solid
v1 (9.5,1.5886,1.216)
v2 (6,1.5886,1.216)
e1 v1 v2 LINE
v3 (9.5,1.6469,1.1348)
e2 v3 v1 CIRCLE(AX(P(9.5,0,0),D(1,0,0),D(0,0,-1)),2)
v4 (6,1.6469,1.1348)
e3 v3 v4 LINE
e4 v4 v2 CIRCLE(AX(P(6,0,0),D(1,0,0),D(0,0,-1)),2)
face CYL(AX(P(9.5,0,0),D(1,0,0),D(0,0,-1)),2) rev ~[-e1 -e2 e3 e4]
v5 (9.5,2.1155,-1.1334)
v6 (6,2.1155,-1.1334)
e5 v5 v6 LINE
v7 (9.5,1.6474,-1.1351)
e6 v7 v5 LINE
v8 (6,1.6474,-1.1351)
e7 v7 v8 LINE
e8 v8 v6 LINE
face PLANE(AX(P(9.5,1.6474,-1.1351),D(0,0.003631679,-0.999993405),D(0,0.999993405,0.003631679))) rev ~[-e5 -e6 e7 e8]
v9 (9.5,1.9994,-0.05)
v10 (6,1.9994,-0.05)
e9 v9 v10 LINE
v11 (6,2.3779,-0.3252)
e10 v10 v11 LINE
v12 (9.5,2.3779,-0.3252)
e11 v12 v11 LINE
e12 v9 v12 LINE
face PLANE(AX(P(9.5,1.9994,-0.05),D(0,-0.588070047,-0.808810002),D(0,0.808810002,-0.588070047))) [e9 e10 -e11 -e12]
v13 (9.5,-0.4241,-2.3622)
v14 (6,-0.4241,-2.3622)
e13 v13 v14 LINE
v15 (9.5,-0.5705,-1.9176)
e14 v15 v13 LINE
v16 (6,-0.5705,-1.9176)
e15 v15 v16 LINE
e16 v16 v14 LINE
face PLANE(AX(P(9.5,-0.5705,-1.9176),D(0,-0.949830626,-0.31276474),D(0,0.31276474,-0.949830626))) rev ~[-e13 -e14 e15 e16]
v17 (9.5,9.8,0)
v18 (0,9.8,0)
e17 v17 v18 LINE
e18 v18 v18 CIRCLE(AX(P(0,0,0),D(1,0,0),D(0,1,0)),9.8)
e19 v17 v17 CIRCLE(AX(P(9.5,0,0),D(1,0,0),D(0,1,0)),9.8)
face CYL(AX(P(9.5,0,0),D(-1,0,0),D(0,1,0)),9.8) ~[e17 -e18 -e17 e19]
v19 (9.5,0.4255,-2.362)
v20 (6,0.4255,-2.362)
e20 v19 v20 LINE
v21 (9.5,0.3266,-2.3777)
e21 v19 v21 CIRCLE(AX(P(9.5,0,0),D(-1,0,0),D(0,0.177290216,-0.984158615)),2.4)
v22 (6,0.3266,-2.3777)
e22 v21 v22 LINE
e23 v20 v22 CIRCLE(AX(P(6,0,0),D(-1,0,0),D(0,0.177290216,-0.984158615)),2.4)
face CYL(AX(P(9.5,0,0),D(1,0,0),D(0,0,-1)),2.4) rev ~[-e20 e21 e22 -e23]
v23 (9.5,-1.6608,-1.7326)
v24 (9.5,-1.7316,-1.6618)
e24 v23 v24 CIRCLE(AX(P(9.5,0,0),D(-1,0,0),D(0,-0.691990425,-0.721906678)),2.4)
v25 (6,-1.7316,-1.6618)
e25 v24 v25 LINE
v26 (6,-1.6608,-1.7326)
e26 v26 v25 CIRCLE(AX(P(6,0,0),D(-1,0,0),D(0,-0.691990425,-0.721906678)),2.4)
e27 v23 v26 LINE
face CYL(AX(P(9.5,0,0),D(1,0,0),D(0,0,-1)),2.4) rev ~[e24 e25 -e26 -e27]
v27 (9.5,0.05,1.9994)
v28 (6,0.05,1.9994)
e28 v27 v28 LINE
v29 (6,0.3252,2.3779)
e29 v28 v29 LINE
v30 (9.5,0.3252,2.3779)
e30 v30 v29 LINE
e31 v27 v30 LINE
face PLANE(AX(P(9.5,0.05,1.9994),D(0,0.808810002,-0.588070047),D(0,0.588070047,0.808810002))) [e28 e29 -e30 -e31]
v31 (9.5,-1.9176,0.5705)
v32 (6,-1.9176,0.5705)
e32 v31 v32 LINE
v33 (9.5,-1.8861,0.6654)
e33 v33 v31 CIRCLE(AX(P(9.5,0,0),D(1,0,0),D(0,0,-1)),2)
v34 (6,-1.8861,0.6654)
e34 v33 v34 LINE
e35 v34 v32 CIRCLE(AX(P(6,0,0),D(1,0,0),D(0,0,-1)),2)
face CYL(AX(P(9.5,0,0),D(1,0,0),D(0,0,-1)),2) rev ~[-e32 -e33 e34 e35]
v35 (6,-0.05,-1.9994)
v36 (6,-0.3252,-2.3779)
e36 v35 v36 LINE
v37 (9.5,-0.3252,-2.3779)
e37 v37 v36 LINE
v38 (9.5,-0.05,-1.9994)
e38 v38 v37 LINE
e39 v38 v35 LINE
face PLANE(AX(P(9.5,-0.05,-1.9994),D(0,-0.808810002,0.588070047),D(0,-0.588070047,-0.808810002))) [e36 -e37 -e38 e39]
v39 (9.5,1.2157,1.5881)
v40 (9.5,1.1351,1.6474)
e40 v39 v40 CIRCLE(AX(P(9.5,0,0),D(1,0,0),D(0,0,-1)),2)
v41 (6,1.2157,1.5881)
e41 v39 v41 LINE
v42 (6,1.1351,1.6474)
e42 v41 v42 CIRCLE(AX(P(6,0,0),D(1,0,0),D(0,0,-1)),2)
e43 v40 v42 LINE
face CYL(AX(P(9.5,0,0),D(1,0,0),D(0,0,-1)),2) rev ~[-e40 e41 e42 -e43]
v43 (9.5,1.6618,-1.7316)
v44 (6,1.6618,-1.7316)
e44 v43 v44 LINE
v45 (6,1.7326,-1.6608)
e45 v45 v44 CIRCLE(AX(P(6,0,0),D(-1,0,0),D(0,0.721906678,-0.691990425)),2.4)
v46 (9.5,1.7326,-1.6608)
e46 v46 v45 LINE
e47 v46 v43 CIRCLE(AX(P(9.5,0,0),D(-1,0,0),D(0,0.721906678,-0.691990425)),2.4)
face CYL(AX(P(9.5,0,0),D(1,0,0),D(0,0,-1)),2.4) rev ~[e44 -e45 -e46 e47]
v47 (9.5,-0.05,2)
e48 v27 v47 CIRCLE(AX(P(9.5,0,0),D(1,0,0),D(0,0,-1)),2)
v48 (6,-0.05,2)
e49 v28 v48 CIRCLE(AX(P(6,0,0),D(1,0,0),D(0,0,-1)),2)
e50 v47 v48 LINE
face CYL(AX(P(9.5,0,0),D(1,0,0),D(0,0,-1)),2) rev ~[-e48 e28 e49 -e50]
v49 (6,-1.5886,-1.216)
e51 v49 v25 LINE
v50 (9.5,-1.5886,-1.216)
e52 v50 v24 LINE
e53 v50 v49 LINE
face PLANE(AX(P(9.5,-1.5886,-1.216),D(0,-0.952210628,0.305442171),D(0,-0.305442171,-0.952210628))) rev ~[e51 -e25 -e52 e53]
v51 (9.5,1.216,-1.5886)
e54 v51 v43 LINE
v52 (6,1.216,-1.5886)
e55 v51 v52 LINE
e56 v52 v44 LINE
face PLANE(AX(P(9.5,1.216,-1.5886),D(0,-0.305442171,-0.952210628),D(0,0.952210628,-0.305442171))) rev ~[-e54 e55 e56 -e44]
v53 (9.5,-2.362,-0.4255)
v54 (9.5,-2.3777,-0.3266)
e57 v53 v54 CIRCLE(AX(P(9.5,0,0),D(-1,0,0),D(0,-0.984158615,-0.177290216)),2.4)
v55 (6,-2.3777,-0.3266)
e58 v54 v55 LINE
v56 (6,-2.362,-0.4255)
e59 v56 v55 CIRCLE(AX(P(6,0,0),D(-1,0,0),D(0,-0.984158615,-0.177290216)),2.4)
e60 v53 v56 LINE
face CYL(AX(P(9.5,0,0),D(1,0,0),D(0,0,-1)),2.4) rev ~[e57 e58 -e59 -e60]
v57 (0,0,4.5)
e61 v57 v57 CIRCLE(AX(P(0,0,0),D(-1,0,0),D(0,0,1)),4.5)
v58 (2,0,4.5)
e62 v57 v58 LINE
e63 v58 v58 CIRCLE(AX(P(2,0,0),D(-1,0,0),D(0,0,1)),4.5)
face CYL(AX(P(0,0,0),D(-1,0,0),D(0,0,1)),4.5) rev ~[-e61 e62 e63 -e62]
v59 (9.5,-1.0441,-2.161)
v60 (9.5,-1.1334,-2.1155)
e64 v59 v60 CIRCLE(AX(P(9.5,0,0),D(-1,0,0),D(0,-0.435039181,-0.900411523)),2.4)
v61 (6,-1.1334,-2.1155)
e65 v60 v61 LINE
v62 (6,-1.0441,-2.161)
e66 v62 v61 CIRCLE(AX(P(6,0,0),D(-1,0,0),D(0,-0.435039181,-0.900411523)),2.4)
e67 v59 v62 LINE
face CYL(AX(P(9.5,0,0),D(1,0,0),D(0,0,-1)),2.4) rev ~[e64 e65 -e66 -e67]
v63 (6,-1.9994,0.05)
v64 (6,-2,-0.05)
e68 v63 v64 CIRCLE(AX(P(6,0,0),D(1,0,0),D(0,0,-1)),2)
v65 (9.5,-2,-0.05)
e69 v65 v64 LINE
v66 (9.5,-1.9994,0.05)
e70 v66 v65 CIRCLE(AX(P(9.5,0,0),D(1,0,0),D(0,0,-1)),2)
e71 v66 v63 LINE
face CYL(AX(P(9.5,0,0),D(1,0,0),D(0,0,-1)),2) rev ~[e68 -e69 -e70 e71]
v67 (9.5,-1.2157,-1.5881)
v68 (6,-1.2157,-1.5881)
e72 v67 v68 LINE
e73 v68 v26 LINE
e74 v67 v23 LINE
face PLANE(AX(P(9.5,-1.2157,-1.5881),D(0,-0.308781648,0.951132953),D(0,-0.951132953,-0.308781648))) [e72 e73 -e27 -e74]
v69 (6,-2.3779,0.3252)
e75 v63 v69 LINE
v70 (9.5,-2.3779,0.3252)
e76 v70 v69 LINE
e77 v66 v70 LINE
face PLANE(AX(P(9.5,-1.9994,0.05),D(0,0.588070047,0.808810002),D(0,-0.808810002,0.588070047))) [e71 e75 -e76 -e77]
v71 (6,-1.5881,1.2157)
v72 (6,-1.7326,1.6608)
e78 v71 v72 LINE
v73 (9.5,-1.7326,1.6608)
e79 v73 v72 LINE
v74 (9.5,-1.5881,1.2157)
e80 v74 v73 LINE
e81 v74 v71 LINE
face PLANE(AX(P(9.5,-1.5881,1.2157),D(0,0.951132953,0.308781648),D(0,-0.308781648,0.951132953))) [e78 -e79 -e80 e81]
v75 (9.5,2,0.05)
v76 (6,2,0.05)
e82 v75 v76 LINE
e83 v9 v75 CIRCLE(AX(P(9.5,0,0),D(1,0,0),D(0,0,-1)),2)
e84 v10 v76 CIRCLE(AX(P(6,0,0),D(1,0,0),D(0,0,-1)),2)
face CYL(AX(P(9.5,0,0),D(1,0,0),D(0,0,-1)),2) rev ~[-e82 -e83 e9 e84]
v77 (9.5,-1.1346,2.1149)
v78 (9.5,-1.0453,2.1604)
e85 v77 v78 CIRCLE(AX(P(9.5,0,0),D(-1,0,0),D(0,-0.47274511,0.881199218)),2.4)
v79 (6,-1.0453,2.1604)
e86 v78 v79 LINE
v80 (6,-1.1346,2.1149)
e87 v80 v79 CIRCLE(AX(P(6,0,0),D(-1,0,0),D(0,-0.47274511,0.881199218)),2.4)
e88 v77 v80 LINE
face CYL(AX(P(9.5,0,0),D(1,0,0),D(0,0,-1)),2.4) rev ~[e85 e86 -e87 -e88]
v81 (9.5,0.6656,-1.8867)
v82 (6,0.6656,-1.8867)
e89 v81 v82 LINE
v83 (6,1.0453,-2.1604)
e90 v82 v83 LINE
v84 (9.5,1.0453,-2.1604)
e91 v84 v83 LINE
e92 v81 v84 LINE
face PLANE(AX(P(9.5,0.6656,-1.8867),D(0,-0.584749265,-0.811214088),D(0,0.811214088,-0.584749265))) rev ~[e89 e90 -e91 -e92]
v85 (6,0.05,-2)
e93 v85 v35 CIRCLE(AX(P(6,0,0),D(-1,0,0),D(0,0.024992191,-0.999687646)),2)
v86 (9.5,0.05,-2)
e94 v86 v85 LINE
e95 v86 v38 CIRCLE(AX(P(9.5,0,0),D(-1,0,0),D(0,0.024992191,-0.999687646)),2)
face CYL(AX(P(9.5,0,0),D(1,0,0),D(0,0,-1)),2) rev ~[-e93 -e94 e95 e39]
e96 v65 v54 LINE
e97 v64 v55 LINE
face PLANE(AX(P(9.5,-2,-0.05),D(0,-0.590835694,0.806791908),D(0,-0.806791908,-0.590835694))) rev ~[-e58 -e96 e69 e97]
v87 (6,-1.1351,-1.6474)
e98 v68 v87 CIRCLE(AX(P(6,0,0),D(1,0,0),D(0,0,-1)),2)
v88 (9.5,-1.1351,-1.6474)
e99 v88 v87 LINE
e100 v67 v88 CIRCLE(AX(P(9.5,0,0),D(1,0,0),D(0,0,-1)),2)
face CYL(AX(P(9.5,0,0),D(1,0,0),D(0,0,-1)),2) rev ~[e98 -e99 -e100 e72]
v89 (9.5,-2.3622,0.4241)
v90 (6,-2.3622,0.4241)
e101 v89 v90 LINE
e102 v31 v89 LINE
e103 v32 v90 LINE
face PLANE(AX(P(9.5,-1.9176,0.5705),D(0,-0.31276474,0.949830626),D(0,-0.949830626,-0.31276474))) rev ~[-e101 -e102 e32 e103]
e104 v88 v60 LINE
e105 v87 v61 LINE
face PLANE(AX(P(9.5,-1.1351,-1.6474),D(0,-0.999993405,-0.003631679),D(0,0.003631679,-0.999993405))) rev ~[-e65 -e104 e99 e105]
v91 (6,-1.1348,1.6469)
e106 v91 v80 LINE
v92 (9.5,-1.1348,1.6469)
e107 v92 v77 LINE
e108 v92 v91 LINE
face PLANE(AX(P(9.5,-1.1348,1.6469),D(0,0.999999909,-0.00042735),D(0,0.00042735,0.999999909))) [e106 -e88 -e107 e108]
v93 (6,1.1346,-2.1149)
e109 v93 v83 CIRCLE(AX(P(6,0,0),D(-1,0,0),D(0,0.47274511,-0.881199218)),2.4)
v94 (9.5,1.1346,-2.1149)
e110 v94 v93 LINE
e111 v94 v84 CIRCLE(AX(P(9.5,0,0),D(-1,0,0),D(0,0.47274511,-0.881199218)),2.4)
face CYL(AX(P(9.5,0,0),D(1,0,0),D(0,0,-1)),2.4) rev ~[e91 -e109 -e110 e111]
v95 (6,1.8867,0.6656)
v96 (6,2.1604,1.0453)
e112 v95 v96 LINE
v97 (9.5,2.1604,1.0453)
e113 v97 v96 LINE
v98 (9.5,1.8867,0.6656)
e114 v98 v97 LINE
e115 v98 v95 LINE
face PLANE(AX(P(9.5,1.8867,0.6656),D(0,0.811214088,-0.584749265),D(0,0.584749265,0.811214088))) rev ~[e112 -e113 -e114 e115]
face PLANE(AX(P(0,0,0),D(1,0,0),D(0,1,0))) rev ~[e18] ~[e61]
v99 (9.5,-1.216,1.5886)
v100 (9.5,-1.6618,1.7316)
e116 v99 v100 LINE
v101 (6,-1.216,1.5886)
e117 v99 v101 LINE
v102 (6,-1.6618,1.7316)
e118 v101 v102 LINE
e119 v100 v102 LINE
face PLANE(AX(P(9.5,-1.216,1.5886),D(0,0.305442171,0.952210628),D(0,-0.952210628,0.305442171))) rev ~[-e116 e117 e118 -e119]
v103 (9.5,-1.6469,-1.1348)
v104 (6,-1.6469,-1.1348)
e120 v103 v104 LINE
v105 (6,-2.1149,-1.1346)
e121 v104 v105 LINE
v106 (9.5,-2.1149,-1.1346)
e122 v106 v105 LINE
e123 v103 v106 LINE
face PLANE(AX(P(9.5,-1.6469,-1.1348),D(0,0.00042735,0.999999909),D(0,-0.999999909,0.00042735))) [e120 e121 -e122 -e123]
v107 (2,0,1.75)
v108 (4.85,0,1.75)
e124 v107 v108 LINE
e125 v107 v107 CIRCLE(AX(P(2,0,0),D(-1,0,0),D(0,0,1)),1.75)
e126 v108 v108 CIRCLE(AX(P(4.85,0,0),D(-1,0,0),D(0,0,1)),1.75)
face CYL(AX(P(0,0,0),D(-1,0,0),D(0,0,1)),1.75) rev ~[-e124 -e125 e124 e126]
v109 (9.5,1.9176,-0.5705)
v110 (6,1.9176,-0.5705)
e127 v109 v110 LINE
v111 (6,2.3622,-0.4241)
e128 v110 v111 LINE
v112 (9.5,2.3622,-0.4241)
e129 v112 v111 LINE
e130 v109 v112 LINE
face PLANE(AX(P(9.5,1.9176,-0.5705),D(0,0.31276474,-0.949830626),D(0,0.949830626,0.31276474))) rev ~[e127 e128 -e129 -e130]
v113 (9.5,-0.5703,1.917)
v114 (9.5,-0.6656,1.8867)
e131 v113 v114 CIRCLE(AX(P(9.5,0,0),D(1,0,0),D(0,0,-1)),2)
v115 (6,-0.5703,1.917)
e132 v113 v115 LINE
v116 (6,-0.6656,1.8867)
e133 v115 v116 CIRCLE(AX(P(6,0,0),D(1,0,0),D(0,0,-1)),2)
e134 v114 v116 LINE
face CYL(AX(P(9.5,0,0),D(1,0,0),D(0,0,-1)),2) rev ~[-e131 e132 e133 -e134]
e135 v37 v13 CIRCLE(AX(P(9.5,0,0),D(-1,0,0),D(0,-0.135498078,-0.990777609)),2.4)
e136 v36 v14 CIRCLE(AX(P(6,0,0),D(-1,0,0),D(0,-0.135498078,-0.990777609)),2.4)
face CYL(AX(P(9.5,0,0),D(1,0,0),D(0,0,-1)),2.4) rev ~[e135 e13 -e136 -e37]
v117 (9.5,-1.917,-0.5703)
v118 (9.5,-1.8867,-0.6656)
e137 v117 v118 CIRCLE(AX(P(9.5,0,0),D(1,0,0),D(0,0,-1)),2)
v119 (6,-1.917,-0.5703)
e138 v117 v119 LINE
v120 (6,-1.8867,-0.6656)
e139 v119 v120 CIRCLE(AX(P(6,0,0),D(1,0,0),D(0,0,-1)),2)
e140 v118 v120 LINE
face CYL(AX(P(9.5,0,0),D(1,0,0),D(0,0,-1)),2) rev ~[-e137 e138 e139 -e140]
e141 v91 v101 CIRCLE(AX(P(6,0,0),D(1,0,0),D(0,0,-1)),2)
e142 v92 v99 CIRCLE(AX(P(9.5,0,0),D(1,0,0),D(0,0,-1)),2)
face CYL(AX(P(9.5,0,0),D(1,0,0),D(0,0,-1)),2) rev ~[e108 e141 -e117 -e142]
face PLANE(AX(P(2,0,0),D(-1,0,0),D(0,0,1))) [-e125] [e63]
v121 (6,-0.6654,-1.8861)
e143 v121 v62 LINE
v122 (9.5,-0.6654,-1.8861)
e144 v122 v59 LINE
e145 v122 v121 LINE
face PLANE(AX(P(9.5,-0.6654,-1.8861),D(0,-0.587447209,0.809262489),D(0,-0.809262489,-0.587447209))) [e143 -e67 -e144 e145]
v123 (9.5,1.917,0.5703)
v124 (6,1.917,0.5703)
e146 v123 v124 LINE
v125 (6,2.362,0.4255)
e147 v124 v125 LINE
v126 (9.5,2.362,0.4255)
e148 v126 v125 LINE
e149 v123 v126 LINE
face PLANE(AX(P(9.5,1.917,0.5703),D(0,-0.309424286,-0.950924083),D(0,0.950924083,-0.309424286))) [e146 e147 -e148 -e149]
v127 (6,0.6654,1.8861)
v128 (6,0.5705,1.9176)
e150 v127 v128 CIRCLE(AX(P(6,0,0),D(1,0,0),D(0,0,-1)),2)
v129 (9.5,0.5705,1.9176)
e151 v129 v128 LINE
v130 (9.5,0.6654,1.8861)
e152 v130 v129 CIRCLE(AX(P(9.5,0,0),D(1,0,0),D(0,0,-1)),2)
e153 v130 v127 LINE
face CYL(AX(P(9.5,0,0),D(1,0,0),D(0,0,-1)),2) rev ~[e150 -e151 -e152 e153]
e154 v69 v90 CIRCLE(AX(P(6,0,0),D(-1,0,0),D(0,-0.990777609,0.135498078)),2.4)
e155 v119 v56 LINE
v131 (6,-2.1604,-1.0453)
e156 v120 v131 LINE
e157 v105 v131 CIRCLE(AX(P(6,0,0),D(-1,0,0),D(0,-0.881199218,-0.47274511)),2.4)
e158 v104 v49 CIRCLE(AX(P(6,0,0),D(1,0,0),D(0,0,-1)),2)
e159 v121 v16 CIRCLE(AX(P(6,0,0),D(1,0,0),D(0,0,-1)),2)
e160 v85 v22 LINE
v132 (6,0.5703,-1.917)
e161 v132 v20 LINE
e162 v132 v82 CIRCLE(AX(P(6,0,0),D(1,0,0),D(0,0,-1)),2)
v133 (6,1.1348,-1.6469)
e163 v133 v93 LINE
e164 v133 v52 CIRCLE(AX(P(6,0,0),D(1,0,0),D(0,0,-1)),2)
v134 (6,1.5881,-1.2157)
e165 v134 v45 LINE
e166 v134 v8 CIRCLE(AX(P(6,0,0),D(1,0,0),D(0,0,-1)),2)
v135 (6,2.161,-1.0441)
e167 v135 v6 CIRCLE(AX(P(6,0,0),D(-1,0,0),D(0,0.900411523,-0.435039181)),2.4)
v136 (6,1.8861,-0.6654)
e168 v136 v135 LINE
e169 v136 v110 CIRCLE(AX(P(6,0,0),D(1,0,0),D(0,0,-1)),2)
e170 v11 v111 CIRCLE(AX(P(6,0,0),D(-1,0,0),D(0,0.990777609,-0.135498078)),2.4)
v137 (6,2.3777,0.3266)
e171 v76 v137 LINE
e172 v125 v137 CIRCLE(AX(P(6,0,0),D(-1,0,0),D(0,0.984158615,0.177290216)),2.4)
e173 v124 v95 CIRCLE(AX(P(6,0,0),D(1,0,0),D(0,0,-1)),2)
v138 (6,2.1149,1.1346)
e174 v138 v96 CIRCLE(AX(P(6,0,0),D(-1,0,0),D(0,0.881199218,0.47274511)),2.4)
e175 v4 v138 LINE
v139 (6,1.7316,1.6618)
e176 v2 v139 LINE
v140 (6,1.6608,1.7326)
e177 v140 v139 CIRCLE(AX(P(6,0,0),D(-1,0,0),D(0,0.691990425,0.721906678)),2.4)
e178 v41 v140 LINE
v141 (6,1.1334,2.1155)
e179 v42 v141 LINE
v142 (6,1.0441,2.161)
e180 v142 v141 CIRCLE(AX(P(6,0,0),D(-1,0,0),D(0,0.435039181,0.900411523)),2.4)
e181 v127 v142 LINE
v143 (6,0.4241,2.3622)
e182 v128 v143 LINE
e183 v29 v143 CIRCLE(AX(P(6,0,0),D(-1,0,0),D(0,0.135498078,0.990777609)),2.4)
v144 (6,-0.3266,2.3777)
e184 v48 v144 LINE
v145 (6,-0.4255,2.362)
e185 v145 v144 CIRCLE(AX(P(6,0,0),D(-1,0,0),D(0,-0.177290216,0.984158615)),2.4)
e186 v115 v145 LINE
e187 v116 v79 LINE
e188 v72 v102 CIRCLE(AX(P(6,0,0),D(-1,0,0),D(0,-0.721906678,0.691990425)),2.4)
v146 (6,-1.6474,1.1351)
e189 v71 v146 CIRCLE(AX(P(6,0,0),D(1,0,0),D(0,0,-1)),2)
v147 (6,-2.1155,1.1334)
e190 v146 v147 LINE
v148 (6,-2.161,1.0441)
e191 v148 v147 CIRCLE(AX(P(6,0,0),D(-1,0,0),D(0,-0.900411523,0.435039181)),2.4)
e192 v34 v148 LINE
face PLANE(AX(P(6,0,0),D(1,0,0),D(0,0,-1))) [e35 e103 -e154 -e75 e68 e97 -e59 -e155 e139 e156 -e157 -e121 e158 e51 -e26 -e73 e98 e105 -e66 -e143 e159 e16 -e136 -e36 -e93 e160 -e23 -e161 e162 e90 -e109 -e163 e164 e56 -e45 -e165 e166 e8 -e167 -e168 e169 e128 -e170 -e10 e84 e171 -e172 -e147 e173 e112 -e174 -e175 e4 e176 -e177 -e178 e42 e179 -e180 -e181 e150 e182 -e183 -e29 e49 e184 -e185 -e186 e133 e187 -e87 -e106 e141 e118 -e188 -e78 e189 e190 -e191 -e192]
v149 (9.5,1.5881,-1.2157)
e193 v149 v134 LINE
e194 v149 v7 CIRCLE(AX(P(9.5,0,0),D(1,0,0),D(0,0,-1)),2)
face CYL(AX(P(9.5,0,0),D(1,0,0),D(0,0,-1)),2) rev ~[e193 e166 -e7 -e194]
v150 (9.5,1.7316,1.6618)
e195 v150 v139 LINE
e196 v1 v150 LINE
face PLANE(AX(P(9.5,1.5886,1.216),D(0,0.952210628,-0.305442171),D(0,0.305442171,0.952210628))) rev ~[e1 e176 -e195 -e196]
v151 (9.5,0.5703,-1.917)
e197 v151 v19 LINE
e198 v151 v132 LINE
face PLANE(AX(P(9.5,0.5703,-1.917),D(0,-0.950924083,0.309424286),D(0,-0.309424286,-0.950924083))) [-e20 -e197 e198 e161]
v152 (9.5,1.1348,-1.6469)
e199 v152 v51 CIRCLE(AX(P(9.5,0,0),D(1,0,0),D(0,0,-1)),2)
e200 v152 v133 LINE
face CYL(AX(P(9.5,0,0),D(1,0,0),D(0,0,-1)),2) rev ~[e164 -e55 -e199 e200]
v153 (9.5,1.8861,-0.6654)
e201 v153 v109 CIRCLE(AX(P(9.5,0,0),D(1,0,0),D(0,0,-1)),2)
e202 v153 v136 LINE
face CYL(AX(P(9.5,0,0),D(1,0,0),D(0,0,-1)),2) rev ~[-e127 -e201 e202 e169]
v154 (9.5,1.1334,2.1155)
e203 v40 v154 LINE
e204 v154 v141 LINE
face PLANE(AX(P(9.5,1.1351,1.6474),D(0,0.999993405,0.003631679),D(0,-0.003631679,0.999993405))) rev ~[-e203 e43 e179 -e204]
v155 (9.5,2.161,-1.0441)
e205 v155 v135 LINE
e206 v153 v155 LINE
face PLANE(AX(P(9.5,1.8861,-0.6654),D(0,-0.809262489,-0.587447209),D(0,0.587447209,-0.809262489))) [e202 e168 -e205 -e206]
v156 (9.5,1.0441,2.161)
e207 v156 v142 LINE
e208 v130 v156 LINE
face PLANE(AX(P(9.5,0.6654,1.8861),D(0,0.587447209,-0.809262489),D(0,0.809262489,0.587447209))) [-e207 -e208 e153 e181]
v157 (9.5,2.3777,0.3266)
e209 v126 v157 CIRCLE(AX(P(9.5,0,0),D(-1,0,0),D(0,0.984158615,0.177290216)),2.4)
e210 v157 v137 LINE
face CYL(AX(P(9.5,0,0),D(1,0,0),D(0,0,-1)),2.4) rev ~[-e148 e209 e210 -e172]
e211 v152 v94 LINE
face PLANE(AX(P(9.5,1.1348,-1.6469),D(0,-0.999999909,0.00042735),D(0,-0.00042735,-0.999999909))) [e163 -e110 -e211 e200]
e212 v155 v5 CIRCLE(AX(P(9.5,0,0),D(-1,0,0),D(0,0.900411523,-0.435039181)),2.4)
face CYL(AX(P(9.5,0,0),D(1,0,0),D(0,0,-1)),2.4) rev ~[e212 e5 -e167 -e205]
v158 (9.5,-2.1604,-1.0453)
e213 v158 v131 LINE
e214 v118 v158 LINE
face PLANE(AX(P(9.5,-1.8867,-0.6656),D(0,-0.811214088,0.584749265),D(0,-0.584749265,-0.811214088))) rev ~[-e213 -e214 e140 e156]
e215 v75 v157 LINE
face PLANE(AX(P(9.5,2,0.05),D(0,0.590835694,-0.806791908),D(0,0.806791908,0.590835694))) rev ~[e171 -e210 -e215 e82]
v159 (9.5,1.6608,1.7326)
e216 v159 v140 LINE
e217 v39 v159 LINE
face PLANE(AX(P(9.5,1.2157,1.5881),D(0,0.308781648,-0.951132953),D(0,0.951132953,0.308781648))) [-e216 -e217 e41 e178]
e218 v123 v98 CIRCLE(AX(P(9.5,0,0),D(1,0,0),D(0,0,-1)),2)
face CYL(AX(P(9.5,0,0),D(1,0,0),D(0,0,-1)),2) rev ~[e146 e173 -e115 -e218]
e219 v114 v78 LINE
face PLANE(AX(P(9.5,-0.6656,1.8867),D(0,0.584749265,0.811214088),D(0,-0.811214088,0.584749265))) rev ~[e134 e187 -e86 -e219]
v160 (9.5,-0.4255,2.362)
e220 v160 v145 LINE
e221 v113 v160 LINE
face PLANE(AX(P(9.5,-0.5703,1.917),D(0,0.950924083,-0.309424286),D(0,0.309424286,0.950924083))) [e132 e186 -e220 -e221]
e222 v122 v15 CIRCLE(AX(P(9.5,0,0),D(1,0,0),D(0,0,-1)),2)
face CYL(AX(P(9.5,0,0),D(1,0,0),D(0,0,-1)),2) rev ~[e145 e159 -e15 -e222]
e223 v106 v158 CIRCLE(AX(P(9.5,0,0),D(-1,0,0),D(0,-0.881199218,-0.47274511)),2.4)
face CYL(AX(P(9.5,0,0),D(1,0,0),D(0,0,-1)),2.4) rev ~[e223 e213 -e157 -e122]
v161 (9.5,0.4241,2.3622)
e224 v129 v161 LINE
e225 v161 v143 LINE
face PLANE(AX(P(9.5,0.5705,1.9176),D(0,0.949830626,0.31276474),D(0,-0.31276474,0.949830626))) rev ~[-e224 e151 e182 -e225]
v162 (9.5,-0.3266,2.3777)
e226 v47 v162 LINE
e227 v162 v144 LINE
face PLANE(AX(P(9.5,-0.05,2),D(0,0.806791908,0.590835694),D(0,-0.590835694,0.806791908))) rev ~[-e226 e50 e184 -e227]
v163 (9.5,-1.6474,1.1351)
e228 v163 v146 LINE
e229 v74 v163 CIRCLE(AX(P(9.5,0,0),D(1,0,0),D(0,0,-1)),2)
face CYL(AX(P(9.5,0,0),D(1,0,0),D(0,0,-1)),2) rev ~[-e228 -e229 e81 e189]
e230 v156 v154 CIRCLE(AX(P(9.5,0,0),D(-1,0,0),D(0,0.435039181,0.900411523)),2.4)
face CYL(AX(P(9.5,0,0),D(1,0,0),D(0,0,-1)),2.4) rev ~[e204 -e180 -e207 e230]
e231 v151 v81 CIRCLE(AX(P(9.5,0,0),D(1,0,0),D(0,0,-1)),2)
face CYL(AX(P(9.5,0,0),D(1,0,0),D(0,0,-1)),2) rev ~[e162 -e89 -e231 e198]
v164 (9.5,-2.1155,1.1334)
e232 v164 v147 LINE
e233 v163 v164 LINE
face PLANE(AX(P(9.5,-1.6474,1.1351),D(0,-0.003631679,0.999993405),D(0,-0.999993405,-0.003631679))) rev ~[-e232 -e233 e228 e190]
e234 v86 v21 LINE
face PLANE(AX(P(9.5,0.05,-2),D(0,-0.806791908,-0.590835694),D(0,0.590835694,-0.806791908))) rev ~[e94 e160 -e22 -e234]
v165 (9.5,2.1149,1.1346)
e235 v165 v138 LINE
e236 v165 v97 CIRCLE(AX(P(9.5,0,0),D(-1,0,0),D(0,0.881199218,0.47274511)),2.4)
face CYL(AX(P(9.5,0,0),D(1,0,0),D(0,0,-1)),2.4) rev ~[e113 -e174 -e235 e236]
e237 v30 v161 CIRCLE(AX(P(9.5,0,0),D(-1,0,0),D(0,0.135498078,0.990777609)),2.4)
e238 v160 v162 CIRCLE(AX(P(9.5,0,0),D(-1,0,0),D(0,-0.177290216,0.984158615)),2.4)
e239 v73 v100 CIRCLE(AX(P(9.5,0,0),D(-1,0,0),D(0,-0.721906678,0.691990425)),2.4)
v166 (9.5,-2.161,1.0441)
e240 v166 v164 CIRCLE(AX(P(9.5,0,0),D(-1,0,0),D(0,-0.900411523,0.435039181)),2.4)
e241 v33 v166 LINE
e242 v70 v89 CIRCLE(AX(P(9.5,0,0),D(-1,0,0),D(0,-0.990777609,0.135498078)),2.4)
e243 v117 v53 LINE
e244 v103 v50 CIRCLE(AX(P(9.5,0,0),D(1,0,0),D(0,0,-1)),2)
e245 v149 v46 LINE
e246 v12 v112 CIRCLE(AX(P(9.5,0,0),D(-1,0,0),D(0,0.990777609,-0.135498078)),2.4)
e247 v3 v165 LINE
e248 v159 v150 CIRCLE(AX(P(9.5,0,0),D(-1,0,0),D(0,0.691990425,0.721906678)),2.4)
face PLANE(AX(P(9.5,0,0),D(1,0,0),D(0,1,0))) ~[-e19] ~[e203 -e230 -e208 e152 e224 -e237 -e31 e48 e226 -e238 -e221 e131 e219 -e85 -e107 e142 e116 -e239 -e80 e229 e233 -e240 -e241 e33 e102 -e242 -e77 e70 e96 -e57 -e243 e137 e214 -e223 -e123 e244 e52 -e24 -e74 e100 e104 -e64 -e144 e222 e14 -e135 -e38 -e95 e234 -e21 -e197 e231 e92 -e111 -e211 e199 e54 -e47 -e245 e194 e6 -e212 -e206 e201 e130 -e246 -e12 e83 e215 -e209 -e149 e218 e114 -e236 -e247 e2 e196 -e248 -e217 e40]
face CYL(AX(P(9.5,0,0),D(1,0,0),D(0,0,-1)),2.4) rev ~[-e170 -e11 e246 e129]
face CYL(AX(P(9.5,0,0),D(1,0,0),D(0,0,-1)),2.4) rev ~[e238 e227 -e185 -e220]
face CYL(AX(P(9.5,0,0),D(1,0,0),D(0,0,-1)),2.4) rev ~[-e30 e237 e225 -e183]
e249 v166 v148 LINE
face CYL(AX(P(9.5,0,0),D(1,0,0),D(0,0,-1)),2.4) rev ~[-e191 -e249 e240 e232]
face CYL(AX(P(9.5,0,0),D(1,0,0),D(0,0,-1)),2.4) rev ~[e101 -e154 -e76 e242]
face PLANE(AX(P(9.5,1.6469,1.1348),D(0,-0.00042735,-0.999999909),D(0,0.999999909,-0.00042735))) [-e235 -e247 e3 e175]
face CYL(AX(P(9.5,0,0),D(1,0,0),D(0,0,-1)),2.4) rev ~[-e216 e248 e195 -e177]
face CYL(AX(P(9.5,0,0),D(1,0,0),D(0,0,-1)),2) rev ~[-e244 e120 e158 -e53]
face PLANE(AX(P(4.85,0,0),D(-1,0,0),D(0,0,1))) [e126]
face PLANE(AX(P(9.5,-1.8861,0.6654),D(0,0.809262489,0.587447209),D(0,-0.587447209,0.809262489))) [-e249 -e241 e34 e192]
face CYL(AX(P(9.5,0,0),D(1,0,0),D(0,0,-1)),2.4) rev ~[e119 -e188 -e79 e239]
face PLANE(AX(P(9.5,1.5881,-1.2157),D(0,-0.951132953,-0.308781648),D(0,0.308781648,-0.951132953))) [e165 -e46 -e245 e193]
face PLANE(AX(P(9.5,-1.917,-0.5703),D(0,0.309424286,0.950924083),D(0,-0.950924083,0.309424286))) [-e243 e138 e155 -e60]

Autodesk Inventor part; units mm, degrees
ref_plane "YZ Plane" through (0, 0, 0) normal (1, 0, 0) x (0, 1, 0)
ref_plane "XZ Plane" through (0, 0, 0) normal (0, 1, 0) x (-1, 0, 0)
ref_plane "XY Plane" through (0, 0, 0) normal (0, 0, 1) x (1, 0, 0)
sketch "Esboço2" plane through (0, 0, 0) normal (0, 0, 1) x (1, 0, 0)
  line L0 (0, 0) -> (9.5, 0)
  line L1 (9.5, 0) -> (9.5, 9.8)
  line L2 (9.5, 9.8) -> (0, 9.8)
  line L3 (0, 9.8) -> (0, 0)
  dimension "d0" = 9.5
  dimension "d1" = 9.8
revolve "Revolução1" add sketch "Esboço2" angle 360 about axis through (0, 0, 0) along (1, 0, 0)
sketch "Esboço3" plane through (0, 0, 0) normal (-1, 0, 0) x (0, 0, 1)
  circle A0 centre (0, 0) radius 1.75
  dimension "d3" = 3.5
extrude "Extrusão1" cut sketch "Esboço3" against normal blind 4.85
sketch "Esboço4" plane through (0, 0, 0) normal (-1, 0, 0) x (0, 0, 1)
  circle A0 centre (0, 0) radius 4.5
  dimension "d6" = 9
extrude "Extrusão2" cut sketch "Esboço4" against normal blind 2
sketch "Esboço8" plane through (9.5, 0, 0) normal (1, 0, 0) x (0, 0, -1)
  circle A0 centre (0, 0) radius 2
  circle A1 centre (0, 0) radius 2.4
  line L0 (2, 0) -> (2, 0.05)
  line L1 (2, 0) -> (1.9994, -0.05)
  line L2 (1.9994, -0.05) -> (2, 0.05)
  line L3 (2, 0.05) -> (2.3777, 0.3266)
  line L4 (1.9994, -0.05) -> (2.3779, -0.3252)
  arc A2 (2.3779, -0.3252) -> (2.3777, 0.3266) centre (0, 0) ccw
  line L5 (2.3777, 0.3266) -> (2.3777, 0.3266)
  line L6 (2.3777, 0.3266) -> (2.3777, 0.3266)
  line L7 (2.3777, 0.3266) -> (2.3777, 0.3266)
  line L8 (2.3779, -0.3252) -> (2.3706, -0.3747)
  line L9 (2.3706, -0.3747) -> (2.3779, -0.3252)
  line L10 (2.3777, 0.3266) -> (2.3777, 0.3266)
  line L11 (2.3777, 0.3266) -> (2.3777, 0.3266)
  line L12 (1.8867, 0.6656) -> (2.1604, 1.0453)
  line L13 (1.917, 0.5703) -> (1.8867, 0.6656)
  line L14 (1.917, 0.5703) -> (2.362, 0.4255)
  line L15 (2.3703, 0.3762) -> (2.362, 0.4255)
  arc A3 (2.362, 0.4255) -> (2.1604, 1.0453) centre (0, 0) ccw
  line L16 (1.5886, 1.216) -> (1.7316, 1.6618)
  line L17 (1.6469, 1.1348) -> (1.5886, 1.216)
  line L18 (1.6469, 1.1348) -> (2.1149, 1.1346)
  line L19 (2.1381, 1.0903) -> (2.1149, 1.1346)
  arc A4 (2.1149, 1.1346) -> (1.7316, 1.6618) centre (0, 0) ccw
  line L20 (1.1351, 1.6474) -> (1.1334, 2.1155)
  line L21 (1.2157, 1.5881) -> (1.1351, 1.6474)
  line L22 (1.2157, 1.5881) -> (1.6608, 1.7326)
  line L23 (1.6965, 1.6976) -> (1.6608, 1.7326)
  arc A5 (1.6608, 1.7326) -> (1.1334, 2.1155) centre (0, 0) ccw
  line L24 (0.5705, 1.9176) -> (0.4241, 2.3622)
  line L25 (0.6654, 1.8861) -> (0.5705, 1.9176)
  line L26 (0.6654, 1.8861) -> (1.0441, 2.161)
  line L27 (1.0889, 2.1388) -> (1.0441, 2.161)
  arc A6 (1.0441, 2.161) -> (0.4241, 2.3622) centre (0, 0) ccw
  line L28 (-0.05, 2) -> (-0.3266, 2.3777)
  line L29 (0.05, 1.9994) -> (-0.05, 2)
  line L30 (0.05, 1.9994) -> (0.3252, 2.3779)
  line L31 (0.3747, 2.3706) -> (0.3252, 2.3779)
  arc A7 (0.3252, 2.3779) -> (-0.3266, 2.3777) centre (0, 0) ccw
  line L32 (-0.6656, 1.8867) -> (-1.0453, 2.1604)
  line L33 (-0.5703, 1.917) -> (-0.6656, 1.8867)
  line L34 (-0.5703, 1.917) -> (-0.4255, 2.362)
  line L35 (-0.3762, 2.3703) -> (-0.4255, 2.362)
  arc A8 (-0.4255, 2.362) -> (-1.0453, 2.1604) centre (0, 0) ccw
  line L36 (-1.216, 1.5886) -> (-1.6618, 1.7316)
  line L37 (-1.1348, 1.6469) -> (-1.216, 1.5886)
  line L38 (-1.1348, 1.6469) -> (-1.1346, 2.1149)
  line L39 (-1.0903, 2.1381) -> (-1.1346, 2.1149)
  arc A9 (-1.1346, 2.1149) -> (-1.6618, 1.7316) centre (0, 0) ccw
  line L40 (-1.6474, 1.1351) -> (-2.1155, 1.1334)
  line L41 (-1.5881, 1.2157) -> (-1.6474, 1.1351)
  line L42 (-1.5881, 1.2157) -> (-1.7326, 1.6608)
  line L43 (-1.6976, 1.6965) -> (-1.7326, 1.6608)
  arc A10 (-1.7326, 1.6608) -> (-2.1155, 1.1334) centre (0, 0) ccw
  line L44 (-1.9176, 0.5705) -> (-2.3622, 0.4241)
  line L45 (-1.8861, 0.6654) -> (-1.9176, 0.5705)
  line L46 (-1.8861, 0.6654) -> (-2.161, 1.0441)
  line L47 (-2.1388, 1.0889) -> (-2.161, 1.0441)
  arc A11 (-2.161, 1.0441) -> (-2.3622, 0.4241) centre (0, 0) ccw
  line L48 (-2, -0.05) -> (-2.3777, -0.3266)
  line L49 (-1.9994, 0.05) -> (-2, -0.05)
  line L50 (-1.9994, 0.05) -> (-2.3779, 0.3252)
  line L51 (-2.3706, 0.3747) -> (-2.3779, 0.3252)
  arc A12 (-2.3779, 0.3252) -> (-2.3777, -0.3266) centre (0, 0) ccw
  line L52 (-1.8867, -0.6656) -> (-2.1604, -1.0453)
  line L53 (-1.917, -0.5703) -> (-1.8867, -0.6656)
  line L54 (-1.917, -0.5703) -> (-2.362, -0.4255)
  line L55 (-2.3703, -0.3762) -> (-2.362, -0.4255)
  arc A13 (-2.362, -0.4255) -> (-2.1604, -1.0453) centre (0, 0) ccw
  line L56 (-1.5886, -1.216) -> (-1.7316, -1.6618)
  line L57 (-1.6469, -1.1348) -> (-1.5886, -1.216)
  line L58 (-1.6469, -1.1348) -> (-2.1149, -1.1346)
  line L59 (-2.1381, -1.0903) -> (-2.1149, -1.1346)
  arc A14 (-2.1149, -1.1346) -> (-1.7316, -1.6618) centre (0, 0) ccw
  line L60 (-1.1351, -1.6474) -> (-1.1334, -2.1155)
  line L61 (-1.2157, -1.5881) -> (-1.1351, -1.6474)
  line L62 (-1.2157, -1.5881) -> (-1.6608, -1.7326)
  line L63 (-1.6965, -1.6976) -> (-1.6608, -1.7326)
  arc A15 (-1.6608, -1.7326) -> (-1.1334, -2.1155) centre (0, 0) ccw
  line L64 (-0.5705, -1.9176) -> (-0.4241, -2.3622)
  line L65 (-0.6654, -1.8861) -> (-0.5705, -1.9176)
  line L66 (-0.6654, -1.8861) -> (-1.0441, -2.161)
  line L67 (-1.0889, -2.1388) -> (-1.0441, -2.161)
  arc A16 (-1.0441, -2.161) -> (-0.4241, -2.3622) centre (0, 0) ccw
  line L68 (0.05, -2) -> (0.3266, -2.3777)
  line L69 (-0.05, -1.9994) -> (0.05, -2)
  line L70 (-0.05, -1.9994) -> (-0.3252, -2.3779)
  line L71 (-0.3747, -2.3706) -> (-0.3252, -2.3779)
  arc A17 (-0.3252, -2.3779) -> (0.3266, -2.3777) centre (0, 0) ccw
  line L72 (0.6656, -1.8867) -> (1.0453, -2.1604)
  line L73 (0.5703, -1.917) -> (0.6656, -1.8867)
  line L74 (0.5703, -1.917) -> (0.4255, -2.362)
  line L75 (0.3762, -2.3703) -> (0.4255, -2.362)
  arc A18 (0.4255, -2.362) -> (1.0453, -2.1604) centre (0, 0) ccw
  line L76 (1.216, -1.5886) -> (1.6618, -1.7316)
  line L77 (1.1348, -1.6469) -> (1.216, -1.5886)
  line L78 (1.1348, -1.6469) -> (1.1346, -2.1149)
  line L79 (1.0903, -2.1381) -> (1.1346, -2.1149)
  arc A19 (1.1346, -2.1149) -> (1.6618, -1.7316) centre (0, 0) ccw
  line L80 (1.6474, -1.1351) -> (2.1155, -1.1334)
  line L81 (1.5881, -1.2157) -> (1.6474, -1.1351)
  line L82 (1.5881, -1.2157) -> (1.7326, -1.6608)
  line L83 (1.6976, -1.6965) -> (1.7326, -1.6608)
  arc A20 (1.7326, -1.6608) -> (2.1155, -1.1334) centre (0, 0) ccw
  line L84 (1.9176, -0.5705) -> (2.3622, -0.4241)
  line L85 (1.8861, -0.6654) -> (1.9176, -0.5705)
  line L86 (1.8861, -0.6654) -> (2.161, -1.0441)
  line L87 (2.1388, -1.0889) -> (2.161, -1.0441)
  arc A21 (2.161, -1.0441) -> (2.3622, -0.4241) centre (0, 0) ccw
  point P0 (1.9998, 0.025)
  point P1 (1.8942, 0.6418)
  point P2 (1.6032, 1.1957)
  point P3 (1.1553, 1.6326)
  point P4 (0.5942, 1.9097)
  point P5 (-0.025, 1.9998)
  point P6 (-0.6418, 1.8942)
  point P7 (-1.1957, 1.6032)
  point P8 (-1.6326, 1.1553)
  point P9 (-1.9097, 0.5942)
  point P10 (-1.9998, -0.025)
  point P11 (-1.8942, -0.6418)
  point P12 (-1.6032, -1.1957)
  point P13 (-1.1553, -1.6326)
  point P14 (-0.5942, -1.9097)
  point P15 (0.025, -1.9998)
  point P16 (0.6418, -1.8942)
  point P17 (1.1957, -1.6032)
  point P18 (1.6326, -1.1553)
  point P19 (1.9097, -0.5942)
  dimension "d35" = 4
  dimension "d36" = 4.8
  dimension "d37" = 0.05
  dimension "d38" = 0.05
  dimension "d39" = 0.05
  dimension "d44" = 360
extrude "Extrusão3" cut sketch "Esboço8" against normal blind 3.5 contours A0 | A0 L14 A1 L3 | L4 A1 L84 A0 | A0 L18 A1 L12 | L86 A1 L80 A0 | A0 L22 A1 L16 | L82 A1 L76 A0 | A0 L26 A1 L20 | L78 A1 L72 A0 | A0 L30 A1 L24 | L74 A1 L68 A0 | A0 L34 A1 L28 | L70 A1 L64 A0 | A0 L38 A1 L32 | L66 A1 L60 A0 | A0 L42 A1 L36 | L62 A1 L56 A0 | A0 L46 A1 L40 | L58 A1 L52 A0 | A0 L50 A1 L44 | L54 A1 L48 A0
sketch "Esboço9" plane through (9.5, 0, 0) normal (1, 0, 0) x (0, 0, -1)
  point P0 (0, 0)
properties part number "roda certa"
